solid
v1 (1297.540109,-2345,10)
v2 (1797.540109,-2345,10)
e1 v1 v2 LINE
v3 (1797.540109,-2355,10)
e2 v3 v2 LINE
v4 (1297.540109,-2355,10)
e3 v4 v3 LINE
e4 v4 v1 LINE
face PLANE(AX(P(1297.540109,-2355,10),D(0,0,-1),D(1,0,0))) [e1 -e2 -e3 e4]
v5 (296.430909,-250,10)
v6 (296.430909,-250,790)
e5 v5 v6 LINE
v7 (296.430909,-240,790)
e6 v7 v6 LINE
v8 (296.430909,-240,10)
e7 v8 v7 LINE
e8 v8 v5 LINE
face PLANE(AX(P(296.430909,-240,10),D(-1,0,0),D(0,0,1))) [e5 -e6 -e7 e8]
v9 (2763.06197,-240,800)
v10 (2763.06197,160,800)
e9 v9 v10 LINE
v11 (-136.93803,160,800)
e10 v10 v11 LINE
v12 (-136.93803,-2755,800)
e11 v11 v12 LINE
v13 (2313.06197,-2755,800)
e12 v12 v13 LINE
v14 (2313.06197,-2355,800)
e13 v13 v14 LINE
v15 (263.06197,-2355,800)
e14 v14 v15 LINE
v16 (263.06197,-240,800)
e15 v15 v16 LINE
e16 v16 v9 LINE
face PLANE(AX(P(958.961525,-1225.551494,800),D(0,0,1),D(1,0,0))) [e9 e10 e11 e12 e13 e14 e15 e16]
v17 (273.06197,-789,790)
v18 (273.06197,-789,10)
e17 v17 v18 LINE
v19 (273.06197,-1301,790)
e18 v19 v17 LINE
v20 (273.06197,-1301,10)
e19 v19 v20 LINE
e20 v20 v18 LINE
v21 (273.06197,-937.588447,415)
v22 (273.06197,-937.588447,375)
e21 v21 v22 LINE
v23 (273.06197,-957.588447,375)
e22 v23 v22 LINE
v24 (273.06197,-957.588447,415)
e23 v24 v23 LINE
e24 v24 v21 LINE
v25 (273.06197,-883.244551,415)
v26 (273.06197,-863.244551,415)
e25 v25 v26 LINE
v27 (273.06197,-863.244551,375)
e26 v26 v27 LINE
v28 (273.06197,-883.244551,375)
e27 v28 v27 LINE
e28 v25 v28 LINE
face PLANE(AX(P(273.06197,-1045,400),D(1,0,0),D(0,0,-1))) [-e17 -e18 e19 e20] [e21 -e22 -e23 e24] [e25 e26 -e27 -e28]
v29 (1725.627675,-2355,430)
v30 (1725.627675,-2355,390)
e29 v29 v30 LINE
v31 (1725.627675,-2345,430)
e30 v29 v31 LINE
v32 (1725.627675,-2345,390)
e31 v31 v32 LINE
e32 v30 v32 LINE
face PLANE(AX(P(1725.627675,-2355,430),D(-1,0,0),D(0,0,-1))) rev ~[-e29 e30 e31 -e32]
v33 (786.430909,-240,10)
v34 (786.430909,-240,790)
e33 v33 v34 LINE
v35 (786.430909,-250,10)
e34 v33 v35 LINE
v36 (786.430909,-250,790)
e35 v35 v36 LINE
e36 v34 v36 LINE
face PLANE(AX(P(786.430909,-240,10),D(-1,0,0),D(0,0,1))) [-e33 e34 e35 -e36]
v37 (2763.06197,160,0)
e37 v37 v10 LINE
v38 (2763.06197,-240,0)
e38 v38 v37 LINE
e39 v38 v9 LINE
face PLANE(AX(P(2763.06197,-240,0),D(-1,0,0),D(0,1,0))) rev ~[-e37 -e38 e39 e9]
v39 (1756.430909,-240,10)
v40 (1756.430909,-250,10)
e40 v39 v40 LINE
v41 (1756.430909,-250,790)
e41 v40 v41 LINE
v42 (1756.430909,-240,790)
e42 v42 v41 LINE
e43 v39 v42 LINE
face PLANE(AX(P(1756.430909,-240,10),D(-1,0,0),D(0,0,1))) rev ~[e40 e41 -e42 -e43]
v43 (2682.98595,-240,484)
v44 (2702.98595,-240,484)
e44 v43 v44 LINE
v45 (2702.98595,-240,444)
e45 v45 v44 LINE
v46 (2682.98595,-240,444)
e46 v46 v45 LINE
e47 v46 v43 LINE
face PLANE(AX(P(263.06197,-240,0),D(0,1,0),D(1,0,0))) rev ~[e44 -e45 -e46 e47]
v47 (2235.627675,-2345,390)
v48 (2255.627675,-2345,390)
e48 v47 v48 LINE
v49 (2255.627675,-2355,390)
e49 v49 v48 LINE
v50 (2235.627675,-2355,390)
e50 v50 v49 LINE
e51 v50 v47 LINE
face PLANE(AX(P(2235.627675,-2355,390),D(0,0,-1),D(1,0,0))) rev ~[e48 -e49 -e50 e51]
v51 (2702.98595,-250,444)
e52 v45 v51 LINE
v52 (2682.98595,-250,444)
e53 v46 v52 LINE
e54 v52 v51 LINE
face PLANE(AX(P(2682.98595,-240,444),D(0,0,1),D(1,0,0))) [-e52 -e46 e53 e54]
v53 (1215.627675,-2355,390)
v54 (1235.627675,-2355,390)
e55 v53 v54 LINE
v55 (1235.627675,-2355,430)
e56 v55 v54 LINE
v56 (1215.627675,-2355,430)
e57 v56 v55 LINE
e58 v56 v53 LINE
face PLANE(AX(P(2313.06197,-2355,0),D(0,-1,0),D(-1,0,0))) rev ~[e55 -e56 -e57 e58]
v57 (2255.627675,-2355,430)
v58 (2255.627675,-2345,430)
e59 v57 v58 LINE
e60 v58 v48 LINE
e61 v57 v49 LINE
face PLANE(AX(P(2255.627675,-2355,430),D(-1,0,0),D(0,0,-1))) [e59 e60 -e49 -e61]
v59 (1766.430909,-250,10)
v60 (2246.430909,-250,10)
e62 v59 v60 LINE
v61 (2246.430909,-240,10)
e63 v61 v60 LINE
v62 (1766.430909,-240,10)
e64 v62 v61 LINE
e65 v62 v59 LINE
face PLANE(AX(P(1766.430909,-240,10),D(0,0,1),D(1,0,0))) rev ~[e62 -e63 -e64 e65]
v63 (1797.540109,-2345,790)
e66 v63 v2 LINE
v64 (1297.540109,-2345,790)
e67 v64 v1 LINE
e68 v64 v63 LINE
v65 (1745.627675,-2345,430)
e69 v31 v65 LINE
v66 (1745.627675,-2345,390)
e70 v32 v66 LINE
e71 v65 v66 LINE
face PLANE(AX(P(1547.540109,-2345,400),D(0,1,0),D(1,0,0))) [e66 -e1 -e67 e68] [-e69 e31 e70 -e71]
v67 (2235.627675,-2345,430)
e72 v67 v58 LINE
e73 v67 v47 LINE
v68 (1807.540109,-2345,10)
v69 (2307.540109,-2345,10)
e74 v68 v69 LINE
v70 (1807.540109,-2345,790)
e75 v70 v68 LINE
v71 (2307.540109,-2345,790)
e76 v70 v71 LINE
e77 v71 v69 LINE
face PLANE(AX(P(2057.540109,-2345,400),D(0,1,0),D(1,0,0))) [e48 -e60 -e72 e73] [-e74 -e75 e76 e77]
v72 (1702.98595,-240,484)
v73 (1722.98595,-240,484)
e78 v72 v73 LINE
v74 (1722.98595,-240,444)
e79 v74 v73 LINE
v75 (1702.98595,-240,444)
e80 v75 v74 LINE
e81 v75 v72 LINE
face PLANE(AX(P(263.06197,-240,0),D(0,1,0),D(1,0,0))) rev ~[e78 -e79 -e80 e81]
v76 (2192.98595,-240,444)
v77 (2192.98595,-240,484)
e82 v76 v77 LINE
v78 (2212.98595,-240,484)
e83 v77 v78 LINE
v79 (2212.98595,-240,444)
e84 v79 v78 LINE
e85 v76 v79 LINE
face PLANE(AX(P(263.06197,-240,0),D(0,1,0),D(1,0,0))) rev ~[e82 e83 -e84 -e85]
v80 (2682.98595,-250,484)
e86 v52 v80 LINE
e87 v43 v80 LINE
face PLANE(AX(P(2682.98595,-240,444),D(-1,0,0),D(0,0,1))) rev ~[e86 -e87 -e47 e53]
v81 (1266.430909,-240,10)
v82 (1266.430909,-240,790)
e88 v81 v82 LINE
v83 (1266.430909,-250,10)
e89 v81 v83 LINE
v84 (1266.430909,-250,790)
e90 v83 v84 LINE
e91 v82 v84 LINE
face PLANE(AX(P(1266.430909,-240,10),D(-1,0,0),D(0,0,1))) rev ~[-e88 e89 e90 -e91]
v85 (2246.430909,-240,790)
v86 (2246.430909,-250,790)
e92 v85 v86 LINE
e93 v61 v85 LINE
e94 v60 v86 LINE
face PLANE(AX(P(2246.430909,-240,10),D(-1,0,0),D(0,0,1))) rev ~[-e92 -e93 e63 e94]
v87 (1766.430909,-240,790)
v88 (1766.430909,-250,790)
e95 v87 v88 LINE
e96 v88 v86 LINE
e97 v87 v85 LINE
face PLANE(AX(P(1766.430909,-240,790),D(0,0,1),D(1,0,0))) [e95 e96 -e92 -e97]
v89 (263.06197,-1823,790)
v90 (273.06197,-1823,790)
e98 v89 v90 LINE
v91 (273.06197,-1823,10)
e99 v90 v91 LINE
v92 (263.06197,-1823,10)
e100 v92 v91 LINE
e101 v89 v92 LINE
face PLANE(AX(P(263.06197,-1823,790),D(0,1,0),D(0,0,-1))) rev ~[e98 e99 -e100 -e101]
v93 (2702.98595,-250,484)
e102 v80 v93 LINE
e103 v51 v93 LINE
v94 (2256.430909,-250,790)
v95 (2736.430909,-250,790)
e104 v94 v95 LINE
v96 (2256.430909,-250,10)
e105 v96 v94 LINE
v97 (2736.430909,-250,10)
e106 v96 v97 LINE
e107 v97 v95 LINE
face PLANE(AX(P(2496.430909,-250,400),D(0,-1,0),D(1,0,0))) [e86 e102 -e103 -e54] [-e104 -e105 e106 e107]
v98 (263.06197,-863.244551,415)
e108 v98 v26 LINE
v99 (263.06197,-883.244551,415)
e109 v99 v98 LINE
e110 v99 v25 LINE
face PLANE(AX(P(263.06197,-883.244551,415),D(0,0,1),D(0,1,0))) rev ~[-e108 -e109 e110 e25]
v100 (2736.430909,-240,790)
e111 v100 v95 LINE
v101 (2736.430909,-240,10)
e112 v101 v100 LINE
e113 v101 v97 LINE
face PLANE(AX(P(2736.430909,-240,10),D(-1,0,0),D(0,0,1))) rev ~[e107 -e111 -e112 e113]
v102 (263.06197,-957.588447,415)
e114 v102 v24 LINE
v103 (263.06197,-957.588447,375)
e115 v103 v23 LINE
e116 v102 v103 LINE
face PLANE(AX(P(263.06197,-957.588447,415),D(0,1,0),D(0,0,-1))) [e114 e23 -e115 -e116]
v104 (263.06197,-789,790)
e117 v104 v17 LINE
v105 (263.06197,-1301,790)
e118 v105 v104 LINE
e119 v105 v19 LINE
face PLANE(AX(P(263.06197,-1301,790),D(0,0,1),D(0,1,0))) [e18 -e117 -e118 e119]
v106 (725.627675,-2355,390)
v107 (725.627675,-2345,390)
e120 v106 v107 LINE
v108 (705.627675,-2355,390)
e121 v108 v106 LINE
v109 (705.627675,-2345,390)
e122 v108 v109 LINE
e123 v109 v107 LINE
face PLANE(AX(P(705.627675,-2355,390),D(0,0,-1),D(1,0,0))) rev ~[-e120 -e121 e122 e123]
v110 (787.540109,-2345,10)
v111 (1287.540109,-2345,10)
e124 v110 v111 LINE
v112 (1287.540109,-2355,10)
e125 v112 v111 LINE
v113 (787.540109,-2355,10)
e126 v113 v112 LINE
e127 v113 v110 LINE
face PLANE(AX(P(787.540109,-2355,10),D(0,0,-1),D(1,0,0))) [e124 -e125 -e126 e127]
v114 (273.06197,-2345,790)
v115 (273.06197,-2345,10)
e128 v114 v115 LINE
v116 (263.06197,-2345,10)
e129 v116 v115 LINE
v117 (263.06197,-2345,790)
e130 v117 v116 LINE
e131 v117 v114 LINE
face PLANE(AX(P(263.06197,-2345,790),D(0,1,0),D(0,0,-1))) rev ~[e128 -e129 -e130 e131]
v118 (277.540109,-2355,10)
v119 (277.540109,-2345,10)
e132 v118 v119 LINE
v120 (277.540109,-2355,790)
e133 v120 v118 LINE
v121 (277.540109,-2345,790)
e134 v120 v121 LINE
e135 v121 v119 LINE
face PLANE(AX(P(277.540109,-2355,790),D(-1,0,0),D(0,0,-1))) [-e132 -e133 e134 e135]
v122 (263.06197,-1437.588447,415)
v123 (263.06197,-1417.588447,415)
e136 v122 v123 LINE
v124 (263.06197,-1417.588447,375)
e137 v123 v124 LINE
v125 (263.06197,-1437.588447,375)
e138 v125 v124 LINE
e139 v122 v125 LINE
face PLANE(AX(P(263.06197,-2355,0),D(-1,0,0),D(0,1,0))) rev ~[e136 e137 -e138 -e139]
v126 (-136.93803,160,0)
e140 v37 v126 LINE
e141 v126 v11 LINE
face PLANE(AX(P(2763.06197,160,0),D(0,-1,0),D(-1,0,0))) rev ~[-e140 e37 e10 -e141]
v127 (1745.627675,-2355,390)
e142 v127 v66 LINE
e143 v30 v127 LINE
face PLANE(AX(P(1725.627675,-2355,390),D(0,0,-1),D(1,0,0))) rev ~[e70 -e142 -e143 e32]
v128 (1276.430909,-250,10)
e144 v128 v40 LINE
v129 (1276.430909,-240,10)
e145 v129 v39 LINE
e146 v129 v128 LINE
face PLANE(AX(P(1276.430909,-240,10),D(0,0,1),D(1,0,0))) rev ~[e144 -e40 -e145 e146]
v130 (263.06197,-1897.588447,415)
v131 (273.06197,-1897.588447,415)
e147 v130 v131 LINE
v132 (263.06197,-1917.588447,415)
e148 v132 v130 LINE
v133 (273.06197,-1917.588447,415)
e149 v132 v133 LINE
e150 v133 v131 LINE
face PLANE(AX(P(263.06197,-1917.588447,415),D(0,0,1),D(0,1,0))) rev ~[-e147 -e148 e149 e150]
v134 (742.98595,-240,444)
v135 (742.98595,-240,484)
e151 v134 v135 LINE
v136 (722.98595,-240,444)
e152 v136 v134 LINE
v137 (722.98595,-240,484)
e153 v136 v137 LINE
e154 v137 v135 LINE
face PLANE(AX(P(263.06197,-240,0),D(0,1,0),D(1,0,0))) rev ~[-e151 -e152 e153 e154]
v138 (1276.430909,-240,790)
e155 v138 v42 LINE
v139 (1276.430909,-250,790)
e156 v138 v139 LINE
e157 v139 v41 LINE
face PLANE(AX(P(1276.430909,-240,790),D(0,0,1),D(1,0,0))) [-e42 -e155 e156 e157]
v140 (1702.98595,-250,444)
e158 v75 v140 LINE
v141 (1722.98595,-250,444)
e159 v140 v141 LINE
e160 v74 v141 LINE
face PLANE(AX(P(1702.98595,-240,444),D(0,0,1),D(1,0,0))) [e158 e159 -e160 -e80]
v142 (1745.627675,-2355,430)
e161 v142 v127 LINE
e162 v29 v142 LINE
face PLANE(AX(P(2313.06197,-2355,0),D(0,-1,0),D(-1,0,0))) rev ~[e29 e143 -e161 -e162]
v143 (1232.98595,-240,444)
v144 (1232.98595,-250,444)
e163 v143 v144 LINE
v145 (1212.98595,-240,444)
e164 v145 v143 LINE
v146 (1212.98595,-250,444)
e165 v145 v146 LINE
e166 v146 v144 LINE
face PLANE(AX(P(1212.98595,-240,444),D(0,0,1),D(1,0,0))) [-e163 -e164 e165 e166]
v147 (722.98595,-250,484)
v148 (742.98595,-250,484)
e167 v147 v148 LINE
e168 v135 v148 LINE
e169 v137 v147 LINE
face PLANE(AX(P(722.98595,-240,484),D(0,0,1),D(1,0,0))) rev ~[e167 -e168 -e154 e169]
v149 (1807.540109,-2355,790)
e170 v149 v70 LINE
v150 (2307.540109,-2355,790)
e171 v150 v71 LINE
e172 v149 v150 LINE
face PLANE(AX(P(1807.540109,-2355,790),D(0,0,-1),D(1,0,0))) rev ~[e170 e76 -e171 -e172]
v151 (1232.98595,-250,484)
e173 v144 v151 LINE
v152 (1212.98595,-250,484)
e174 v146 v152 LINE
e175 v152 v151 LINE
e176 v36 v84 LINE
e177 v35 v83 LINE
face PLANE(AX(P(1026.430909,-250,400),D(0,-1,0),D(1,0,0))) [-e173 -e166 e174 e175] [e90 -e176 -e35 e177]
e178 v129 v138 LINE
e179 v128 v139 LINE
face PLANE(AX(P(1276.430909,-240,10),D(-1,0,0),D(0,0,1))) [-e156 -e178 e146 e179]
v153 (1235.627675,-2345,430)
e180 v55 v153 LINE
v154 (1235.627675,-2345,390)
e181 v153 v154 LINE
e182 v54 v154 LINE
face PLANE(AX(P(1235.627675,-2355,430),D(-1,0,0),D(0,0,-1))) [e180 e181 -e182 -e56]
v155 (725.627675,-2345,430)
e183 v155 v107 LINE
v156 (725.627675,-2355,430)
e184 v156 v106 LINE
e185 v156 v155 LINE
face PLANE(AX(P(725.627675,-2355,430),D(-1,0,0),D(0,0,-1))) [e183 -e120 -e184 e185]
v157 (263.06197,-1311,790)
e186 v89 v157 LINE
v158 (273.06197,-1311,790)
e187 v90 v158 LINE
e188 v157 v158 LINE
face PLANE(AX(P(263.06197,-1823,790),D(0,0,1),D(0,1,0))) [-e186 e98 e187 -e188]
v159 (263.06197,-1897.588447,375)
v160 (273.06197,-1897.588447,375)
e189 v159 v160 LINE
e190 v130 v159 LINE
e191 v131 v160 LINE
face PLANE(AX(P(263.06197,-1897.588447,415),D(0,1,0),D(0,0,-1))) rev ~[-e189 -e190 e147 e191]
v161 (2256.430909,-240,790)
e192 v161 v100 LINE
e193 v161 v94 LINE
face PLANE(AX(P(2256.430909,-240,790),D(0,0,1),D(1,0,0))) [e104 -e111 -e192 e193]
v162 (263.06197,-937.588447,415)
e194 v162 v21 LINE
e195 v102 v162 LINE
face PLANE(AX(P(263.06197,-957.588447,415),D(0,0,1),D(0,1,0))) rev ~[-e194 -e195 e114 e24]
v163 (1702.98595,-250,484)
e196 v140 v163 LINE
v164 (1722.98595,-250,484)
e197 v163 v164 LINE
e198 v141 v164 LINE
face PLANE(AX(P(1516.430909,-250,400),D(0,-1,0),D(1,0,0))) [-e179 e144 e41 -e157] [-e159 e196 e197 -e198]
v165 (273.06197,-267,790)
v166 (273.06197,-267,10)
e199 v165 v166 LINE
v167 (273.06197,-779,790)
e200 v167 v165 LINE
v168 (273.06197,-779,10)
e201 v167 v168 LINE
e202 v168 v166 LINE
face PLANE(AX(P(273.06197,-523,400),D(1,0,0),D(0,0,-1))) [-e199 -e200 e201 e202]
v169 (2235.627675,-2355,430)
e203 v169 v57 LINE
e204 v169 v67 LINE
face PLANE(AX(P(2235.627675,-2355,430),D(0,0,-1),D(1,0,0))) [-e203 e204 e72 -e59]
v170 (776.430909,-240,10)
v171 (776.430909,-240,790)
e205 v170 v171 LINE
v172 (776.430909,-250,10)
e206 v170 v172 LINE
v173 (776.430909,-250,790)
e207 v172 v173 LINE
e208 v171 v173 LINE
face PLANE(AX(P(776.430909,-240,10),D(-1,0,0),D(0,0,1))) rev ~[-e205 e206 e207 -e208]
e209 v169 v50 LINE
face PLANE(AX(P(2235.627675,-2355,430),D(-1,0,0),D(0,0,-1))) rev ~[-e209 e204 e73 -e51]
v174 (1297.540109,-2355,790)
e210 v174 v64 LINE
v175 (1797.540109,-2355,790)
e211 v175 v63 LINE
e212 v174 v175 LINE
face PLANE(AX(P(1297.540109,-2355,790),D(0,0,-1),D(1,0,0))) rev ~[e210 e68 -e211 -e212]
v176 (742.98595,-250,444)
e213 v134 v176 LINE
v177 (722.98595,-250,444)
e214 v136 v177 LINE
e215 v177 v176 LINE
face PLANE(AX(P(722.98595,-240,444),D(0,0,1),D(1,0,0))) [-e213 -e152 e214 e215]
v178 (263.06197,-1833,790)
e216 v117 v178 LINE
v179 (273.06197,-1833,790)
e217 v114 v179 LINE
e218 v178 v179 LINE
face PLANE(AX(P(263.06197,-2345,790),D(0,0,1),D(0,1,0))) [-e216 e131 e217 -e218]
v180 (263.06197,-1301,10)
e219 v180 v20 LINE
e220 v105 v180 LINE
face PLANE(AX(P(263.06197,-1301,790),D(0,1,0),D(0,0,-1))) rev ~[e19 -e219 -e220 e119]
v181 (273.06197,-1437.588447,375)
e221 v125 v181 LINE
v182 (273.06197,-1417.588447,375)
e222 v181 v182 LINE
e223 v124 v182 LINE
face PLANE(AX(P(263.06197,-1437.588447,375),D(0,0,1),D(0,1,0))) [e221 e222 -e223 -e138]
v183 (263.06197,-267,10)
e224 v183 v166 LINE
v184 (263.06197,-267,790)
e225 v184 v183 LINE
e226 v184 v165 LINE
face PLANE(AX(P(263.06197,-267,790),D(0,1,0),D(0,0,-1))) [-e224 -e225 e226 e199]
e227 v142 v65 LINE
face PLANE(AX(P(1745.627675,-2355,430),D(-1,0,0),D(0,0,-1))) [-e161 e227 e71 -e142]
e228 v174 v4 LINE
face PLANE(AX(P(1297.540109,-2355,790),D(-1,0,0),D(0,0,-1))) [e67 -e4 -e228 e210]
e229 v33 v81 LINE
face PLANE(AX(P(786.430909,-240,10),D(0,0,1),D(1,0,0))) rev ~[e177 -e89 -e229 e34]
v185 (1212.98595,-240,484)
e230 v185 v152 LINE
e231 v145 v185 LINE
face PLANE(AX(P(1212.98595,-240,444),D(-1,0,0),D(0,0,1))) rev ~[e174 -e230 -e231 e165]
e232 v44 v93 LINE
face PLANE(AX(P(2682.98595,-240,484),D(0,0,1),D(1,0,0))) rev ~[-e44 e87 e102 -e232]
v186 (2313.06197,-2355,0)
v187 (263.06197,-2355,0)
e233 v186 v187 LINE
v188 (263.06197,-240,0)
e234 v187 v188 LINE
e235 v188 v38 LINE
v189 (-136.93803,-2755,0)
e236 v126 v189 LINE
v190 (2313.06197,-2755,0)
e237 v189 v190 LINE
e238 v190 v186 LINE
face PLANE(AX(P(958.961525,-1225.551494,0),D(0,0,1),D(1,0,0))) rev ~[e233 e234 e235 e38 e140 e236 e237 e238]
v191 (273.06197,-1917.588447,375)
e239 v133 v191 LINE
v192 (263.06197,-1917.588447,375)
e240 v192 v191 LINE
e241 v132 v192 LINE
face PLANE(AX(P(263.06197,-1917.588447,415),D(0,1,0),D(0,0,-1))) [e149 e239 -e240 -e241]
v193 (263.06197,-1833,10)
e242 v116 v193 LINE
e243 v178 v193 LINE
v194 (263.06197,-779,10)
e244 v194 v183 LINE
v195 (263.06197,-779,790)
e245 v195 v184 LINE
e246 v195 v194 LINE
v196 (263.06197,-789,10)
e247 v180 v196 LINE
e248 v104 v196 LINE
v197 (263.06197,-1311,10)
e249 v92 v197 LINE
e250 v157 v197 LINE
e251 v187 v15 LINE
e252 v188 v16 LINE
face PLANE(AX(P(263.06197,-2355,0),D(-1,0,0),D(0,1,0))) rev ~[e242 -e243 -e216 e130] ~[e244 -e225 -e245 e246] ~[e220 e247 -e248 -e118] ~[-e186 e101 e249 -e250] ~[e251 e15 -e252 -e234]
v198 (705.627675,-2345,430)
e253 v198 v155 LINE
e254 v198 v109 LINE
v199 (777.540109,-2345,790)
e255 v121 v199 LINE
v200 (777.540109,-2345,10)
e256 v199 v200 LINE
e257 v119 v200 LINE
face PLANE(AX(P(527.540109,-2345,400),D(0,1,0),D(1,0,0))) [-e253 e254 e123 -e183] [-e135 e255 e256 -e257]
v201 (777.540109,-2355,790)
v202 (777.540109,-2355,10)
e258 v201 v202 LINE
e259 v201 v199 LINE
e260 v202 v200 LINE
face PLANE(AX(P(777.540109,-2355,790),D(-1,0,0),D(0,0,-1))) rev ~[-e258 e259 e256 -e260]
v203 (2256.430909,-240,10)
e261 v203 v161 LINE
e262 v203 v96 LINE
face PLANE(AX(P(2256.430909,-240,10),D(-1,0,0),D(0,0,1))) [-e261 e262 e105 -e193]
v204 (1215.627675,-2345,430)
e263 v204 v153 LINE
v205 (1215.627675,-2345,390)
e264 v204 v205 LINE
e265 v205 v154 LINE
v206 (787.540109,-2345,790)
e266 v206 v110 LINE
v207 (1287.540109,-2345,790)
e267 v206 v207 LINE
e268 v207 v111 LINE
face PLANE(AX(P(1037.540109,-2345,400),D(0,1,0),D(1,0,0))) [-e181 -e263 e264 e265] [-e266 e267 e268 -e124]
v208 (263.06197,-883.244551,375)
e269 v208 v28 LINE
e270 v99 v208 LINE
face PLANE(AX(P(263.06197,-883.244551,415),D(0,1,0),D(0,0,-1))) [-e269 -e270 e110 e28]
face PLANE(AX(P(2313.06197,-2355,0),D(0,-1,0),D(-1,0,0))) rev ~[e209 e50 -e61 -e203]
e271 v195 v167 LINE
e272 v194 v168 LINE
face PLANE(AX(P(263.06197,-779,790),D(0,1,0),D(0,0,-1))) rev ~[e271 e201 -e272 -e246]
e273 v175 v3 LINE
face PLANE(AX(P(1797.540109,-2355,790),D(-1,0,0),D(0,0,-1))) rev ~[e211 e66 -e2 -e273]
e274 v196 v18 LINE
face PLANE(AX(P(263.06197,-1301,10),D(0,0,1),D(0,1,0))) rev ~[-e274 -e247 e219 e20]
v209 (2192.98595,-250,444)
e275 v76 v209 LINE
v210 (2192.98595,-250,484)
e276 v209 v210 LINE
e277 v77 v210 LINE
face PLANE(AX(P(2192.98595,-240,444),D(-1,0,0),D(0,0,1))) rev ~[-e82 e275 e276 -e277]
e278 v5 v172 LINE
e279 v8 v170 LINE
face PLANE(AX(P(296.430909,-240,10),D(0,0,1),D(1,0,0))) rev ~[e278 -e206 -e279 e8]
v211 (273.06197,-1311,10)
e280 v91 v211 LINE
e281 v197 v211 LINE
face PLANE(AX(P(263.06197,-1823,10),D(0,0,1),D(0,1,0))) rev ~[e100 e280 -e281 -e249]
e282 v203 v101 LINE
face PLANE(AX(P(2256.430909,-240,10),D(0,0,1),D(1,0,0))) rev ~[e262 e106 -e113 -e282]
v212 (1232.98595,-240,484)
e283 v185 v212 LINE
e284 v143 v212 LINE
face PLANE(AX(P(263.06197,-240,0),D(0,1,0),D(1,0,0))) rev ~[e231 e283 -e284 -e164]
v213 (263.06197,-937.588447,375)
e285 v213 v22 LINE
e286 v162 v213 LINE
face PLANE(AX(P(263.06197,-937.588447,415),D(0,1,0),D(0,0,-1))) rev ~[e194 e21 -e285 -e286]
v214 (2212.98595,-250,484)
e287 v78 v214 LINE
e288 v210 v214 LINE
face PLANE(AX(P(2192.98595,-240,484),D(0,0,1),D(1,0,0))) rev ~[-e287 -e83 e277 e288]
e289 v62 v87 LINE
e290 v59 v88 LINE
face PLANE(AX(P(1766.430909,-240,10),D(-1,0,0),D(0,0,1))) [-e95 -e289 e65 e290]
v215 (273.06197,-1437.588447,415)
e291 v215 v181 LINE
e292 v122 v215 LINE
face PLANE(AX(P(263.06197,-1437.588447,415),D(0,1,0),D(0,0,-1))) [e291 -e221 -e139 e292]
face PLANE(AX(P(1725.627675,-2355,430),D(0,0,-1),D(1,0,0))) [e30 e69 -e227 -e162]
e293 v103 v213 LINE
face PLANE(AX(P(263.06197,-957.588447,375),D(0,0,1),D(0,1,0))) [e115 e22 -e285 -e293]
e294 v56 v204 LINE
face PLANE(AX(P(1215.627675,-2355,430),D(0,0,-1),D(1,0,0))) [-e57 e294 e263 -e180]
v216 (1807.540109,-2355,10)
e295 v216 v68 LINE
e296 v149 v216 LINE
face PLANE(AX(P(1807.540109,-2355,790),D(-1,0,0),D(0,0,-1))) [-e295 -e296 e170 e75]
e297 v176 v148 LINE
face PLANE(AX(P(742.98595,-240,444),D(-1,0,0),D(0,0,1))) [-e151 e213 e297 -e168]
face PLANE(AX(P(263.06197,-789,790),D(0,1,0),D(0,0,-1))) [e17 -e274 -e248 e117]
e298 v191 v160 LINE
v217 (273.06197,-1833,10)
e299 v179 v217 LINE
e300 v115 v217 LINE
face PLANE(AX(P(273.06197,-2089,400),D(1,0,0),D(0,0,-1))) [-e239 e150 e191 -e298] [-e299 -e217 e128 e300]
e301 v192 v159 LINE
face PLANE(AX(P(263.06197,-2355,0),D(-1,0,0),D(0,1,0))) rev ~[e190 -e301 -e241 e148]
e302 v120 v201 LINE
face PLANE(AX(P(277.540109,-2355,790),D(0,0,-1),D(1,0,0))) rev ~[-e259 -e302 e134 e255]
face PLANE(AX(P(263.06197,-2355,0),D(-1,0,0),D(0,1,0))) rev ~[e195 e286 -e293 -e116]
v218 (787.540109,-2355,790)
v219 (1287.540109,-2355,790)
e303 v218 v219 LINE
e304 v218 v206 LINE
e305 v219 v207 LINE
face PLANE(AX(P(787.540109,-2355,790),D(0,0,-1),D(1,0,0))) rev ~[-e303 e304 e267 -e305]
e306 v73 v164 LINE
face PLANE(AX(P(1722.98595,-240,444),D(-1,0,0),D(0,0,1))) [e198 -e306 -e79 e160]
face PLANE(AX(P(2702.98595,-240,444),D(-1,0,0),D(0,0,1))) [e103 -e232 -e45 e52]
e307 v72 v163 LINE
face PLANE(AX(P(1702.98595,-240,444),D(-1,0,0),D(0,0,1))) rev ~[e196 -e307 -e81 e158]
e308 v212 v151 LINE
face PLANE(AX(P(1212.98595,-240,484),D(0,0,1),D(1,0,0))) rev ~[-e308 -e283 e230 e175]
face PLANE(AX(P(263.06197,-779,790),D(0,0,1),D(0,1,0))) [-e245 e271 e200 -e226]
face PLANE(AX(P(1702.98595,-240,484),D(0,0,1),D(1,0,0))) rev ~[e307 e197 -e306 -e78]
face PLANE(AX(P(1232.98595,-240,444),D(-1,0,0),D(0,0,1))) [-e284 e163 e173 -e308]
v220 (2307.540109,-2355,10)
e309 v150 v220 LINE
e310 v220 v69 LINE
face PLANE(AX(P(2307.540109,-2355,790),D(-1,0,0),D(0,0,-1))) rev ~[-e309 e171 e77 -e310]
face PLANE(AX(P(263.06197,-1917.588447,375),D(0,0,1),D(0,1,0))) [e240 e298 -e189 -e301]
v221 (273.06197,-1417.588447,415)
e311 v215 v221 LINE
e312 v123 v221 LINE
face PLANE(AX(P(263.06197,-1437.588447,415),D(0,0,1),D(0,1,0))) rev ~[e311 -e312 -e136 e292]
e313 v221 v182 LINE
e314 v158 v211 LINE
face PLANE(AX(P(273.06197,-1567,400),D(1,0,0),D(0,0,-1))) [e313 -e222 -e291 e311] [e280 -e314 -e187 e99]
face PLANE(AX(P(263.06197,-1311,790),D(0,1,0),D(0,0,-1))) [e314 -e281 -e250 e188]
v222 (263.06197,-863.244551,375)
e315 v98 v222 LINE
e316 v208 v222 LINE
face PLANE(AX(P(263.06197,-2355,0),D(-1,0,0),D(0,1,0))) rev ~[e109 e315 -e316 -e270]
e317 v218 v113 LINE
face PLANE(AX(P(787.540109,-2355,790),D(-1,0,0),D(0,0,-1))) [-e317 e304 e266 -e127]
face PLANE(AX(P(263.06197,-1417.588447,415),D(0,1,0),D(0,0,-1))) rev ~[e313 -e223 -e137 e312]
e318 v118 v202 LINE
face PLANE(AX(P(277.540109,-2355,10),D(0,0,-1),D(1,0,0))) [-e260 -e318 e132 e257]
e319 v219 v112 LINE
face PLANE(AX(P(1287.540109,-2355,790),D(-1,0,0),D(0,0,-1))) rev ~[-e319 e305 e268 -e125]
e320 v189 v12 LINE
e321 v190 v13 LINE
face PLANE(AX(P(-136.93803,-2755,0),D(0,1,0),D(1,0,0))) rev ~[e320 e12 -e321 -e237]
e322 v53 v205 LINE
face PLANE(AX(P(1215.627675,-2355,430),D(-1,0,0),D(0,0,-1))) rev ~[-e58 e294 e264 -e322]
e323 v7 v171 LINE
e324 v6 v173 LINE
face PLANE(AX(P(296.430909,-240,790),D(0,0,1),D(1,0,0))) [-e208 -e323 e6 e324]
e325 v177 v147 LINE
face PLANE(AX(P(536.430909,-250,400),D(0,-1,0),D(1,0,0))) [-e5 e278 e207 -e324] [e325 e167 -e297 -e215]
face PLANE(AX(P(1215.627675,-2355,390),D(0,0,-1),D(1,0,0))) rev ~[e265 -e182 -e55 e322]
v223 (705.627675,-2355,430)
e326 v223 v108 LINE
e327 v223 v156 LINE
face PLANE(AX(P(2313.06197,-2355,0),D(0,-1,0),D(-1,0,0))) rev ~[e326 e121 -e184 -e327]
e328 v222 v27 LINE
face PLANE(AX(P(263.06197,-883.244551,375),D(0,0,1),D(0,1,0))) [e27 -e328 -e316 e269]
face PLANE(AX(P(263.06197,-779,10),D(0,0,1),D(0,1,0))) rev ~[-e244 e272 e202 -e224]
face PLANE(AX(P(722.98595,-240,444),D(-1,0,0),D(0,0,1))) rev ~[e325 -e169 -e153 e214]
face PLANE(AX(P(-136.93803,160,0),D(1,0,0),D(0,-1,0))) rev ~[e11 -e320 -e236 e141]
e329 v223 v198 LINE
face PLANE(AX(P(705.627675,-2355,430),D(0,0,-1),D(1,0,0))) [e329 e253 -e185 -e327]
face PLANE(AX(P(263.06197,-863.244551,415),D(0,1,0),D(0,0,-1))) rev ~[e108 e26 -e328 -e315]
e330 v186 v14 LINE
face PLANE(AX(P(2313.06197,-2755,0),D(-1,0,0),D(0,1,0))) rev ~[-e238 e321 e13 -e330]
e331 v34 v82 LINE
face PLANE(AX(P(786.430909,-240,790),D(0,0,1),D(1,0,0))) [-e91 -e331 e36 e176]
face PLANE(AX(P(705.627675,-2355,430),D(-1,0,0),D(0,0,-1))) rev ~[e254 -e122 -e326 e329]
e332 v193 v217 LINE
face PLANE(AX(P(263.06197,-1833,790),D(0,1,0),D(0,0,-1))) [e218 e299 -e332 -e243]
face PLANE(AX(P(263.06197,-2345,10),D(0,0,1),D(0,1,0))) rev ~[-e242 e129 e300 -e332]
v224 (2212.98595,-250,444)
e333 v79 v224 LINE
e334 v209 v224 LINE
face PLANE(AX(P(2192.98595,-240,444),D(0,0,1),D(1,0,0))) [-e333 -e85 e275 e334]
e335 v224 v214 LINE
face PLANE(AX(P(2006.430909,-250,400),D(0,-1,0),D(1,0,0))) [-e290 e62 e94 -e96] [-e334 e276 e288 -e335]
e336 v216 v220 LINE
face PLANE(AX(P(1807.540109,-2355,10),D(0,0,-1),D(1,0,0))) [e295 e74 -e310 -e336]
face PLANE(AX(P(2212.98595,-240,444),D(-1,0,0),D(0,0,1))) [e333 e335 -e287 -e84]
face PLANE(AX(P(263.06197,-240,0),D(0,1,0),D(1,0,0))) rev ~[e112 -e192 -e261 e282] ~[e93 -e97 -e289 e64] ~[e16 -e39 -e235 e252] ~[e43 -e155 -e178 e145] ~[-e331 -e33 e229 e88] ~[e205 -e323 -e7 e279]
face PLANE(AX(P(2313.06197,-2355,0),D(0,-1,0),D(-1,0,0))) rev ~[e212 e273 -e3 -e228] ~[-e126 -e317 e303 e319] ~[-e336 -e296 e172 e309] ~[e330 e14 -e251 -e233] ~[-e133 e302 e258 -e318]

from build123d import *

# Parameters (mm, degrees)
BOSS_EXTRUDE1_DEPTH = 800
SKETCH2_W           = 500
SKETCH2_H           = 780
SKETCH2_W_2         = 20
SKETCH2_H_2         = 40
BOSS_EXTRUDE2_DEPTH = 10
SKETCH3_W           = 780
SKETCH3_H           = 512
SKETCH3_W_2         = 40
SKETCH3_H_2         = 20
BOSS_EXTRUDE3_DEPTH = 10
SKETCH4_W           = 480
SKETCH4_H           = 780
SKETCH4_W_2         = 20
SKETCH4_H_2         = 40
BOSS_EXTRUDE4_DEPTH = 10


with BuildPart() as part:
    # Sketch1 → Boss-Extrude1 (new body)
    with BuildSketch(Plane.XY):
        Polygon((2763.061970043, 160), (-136.938029957, 160), (-136.938029957, -2755), (2313.061970043, -2755), (2313.061970043, -2355), (263.061970043, -2355), (263.061970043, -240), (2763.061970043, -240), align=None)
    extrude(amount=BOSS_EXTRUDE1_DEPTH)

    # Sketch2 → Boss-Extrude2 (add)
    with BuildSketch(Plane(origin=(0, -2355, 0), x_dir=(1, 0, 0), z_dir=(0, 1, 0))):
        with Locations((1037.540108644, -400)):
            Rectangle(SKETCH2_W, SKETCH2_H)
        with Locations((1225.627674913, -410)):
            Rectangle(SKETCH2_W_2, SKETCH2_H_2, mode=Mode.SUBTRACT)
        with Locations((527.540108644, -400)):
            Rectangle(SKETCH2_W, SKETCH2_H)
        with Locations((715.627674913, -410)):
            Rectangle(SKETCH2_W_2, SKETCH2_H_2, mode=Mode.SUBTRACT)
        with Locations((1547.540108644, -400)):
            Rectangle(SKETCH2_W, SKETCH2_H)
        with Locations((1735.627674913, -410)):
            Rectangle(SKETCH2_W_2, SKETCH2_H_2, mode=Mode.SUBTRACT)
        with Locations((2057.540108644, -400)):
            Rectangle(SKETCH2_W, SKETCH2_H)
        with Locations((2245.627674913, -410)):
            Rectangle(SKETCH2_W_2, SKETCH2_H_2, mode=Mode.SUBTRACT)
    extrude(amount=BOSS_EXTRUDE2_DEPTH)

    # Sketch3 → Boss-Extrude3 (add)
    with BuildSketch(Plane(origin=(263.061970043, 0, 0), x_dir=(0, 0, -1), z_dir=(1, 0, 0))):
        with Locations((-400, -1567)):
            Rectangle(SKETCH3_W, SKETCH3_H)
        with Locations((-395, -1427.588446785)):
            Rectangle(SKETCH3_W_2, SKETCH3_H_2, mode=Mode.SUBTRACT)
        with Locations((-400, -2089)):
            Rectangle(SKETCH3_W, SKETCH3_H)
        with Locations((-395, -1907.588446785)):
            Rectangle(SKETCH3_W_2, SKETCH3_H_2, mode=Mode.SUBTRACT)
        with Locations((-400, -1045)):
            Rectangle(SKETCH3_W, SKETCH3_H)
        with Locations((-395, -947.588446785)):
            Rectangle(SKETCH3_W_2, SKETCH3_H_2, mode=Mode.SUBTRACT)
        with Locations((-395, -873.244551229)):
            Rectangle(SKETCH3_W_2, SKETCH3_H_2, mode=Mode.SUBTRACT)
        with Locations((-400, -523)):
            Rectangle(SKETCH3_W, SKETCH3_H)
    extrude(amount=BOSS_EXTRUDE3_DEPTH)

    # Sketch4 → Boss-Extrude4 (add)
    with BuildSketch(Plane.XZ.offset(240)):
        with Locations((536.430909258, 400)):
            Rectangle(SKETCH4_W, SKETCH4_H)
        with Locations((732.985950251, 464)):
            Rectangle(SKETCH4_W_2, SKETCH4_H_2, mode=Mode.SUBTRACT)
        with Locations((1516.430909258, 400)):
            Rectangle(SKETCH4_W, SKETCH4_H)
        with Locations((1712.985950251, 464)):
            Rectangle(SKETCH4_W_2, SKETCH4_H_2, mode=Mode.SUBTRACT)
        with Locations((2006.430909258, 400)):
            Rectangle(SKETCH4_W, SKETCH4_H)
        with Locations((2202.985950251, 464)):
            Rectangle(SKETCH4_W_2, SKETCH4_H_2, mode=Mode.SUBTRACT)
        with Locations((2496.430909258, 400)):
            Rectangle(SKETCH4_W, SKETCH4_H)
        with Locations((2692.985950251, 464)):
            Rectangle(SKETCH4_W_2, SKETCH4_H_2, mode=Mode.SUBTRACT)
        with Locations((1026.430909258, 400)):
            Rectangle(SKETCH4_W, SKETCH4_H)
        with Locations((1222.985950251, 464)):
            Rectangle(SKETCH4_W_2, SKETCH4_H_2, mode=Mode.SUBTRACT)
    extrude(amount=BOSS_EXTRUDE4_DEPTH)


solid = part.part
